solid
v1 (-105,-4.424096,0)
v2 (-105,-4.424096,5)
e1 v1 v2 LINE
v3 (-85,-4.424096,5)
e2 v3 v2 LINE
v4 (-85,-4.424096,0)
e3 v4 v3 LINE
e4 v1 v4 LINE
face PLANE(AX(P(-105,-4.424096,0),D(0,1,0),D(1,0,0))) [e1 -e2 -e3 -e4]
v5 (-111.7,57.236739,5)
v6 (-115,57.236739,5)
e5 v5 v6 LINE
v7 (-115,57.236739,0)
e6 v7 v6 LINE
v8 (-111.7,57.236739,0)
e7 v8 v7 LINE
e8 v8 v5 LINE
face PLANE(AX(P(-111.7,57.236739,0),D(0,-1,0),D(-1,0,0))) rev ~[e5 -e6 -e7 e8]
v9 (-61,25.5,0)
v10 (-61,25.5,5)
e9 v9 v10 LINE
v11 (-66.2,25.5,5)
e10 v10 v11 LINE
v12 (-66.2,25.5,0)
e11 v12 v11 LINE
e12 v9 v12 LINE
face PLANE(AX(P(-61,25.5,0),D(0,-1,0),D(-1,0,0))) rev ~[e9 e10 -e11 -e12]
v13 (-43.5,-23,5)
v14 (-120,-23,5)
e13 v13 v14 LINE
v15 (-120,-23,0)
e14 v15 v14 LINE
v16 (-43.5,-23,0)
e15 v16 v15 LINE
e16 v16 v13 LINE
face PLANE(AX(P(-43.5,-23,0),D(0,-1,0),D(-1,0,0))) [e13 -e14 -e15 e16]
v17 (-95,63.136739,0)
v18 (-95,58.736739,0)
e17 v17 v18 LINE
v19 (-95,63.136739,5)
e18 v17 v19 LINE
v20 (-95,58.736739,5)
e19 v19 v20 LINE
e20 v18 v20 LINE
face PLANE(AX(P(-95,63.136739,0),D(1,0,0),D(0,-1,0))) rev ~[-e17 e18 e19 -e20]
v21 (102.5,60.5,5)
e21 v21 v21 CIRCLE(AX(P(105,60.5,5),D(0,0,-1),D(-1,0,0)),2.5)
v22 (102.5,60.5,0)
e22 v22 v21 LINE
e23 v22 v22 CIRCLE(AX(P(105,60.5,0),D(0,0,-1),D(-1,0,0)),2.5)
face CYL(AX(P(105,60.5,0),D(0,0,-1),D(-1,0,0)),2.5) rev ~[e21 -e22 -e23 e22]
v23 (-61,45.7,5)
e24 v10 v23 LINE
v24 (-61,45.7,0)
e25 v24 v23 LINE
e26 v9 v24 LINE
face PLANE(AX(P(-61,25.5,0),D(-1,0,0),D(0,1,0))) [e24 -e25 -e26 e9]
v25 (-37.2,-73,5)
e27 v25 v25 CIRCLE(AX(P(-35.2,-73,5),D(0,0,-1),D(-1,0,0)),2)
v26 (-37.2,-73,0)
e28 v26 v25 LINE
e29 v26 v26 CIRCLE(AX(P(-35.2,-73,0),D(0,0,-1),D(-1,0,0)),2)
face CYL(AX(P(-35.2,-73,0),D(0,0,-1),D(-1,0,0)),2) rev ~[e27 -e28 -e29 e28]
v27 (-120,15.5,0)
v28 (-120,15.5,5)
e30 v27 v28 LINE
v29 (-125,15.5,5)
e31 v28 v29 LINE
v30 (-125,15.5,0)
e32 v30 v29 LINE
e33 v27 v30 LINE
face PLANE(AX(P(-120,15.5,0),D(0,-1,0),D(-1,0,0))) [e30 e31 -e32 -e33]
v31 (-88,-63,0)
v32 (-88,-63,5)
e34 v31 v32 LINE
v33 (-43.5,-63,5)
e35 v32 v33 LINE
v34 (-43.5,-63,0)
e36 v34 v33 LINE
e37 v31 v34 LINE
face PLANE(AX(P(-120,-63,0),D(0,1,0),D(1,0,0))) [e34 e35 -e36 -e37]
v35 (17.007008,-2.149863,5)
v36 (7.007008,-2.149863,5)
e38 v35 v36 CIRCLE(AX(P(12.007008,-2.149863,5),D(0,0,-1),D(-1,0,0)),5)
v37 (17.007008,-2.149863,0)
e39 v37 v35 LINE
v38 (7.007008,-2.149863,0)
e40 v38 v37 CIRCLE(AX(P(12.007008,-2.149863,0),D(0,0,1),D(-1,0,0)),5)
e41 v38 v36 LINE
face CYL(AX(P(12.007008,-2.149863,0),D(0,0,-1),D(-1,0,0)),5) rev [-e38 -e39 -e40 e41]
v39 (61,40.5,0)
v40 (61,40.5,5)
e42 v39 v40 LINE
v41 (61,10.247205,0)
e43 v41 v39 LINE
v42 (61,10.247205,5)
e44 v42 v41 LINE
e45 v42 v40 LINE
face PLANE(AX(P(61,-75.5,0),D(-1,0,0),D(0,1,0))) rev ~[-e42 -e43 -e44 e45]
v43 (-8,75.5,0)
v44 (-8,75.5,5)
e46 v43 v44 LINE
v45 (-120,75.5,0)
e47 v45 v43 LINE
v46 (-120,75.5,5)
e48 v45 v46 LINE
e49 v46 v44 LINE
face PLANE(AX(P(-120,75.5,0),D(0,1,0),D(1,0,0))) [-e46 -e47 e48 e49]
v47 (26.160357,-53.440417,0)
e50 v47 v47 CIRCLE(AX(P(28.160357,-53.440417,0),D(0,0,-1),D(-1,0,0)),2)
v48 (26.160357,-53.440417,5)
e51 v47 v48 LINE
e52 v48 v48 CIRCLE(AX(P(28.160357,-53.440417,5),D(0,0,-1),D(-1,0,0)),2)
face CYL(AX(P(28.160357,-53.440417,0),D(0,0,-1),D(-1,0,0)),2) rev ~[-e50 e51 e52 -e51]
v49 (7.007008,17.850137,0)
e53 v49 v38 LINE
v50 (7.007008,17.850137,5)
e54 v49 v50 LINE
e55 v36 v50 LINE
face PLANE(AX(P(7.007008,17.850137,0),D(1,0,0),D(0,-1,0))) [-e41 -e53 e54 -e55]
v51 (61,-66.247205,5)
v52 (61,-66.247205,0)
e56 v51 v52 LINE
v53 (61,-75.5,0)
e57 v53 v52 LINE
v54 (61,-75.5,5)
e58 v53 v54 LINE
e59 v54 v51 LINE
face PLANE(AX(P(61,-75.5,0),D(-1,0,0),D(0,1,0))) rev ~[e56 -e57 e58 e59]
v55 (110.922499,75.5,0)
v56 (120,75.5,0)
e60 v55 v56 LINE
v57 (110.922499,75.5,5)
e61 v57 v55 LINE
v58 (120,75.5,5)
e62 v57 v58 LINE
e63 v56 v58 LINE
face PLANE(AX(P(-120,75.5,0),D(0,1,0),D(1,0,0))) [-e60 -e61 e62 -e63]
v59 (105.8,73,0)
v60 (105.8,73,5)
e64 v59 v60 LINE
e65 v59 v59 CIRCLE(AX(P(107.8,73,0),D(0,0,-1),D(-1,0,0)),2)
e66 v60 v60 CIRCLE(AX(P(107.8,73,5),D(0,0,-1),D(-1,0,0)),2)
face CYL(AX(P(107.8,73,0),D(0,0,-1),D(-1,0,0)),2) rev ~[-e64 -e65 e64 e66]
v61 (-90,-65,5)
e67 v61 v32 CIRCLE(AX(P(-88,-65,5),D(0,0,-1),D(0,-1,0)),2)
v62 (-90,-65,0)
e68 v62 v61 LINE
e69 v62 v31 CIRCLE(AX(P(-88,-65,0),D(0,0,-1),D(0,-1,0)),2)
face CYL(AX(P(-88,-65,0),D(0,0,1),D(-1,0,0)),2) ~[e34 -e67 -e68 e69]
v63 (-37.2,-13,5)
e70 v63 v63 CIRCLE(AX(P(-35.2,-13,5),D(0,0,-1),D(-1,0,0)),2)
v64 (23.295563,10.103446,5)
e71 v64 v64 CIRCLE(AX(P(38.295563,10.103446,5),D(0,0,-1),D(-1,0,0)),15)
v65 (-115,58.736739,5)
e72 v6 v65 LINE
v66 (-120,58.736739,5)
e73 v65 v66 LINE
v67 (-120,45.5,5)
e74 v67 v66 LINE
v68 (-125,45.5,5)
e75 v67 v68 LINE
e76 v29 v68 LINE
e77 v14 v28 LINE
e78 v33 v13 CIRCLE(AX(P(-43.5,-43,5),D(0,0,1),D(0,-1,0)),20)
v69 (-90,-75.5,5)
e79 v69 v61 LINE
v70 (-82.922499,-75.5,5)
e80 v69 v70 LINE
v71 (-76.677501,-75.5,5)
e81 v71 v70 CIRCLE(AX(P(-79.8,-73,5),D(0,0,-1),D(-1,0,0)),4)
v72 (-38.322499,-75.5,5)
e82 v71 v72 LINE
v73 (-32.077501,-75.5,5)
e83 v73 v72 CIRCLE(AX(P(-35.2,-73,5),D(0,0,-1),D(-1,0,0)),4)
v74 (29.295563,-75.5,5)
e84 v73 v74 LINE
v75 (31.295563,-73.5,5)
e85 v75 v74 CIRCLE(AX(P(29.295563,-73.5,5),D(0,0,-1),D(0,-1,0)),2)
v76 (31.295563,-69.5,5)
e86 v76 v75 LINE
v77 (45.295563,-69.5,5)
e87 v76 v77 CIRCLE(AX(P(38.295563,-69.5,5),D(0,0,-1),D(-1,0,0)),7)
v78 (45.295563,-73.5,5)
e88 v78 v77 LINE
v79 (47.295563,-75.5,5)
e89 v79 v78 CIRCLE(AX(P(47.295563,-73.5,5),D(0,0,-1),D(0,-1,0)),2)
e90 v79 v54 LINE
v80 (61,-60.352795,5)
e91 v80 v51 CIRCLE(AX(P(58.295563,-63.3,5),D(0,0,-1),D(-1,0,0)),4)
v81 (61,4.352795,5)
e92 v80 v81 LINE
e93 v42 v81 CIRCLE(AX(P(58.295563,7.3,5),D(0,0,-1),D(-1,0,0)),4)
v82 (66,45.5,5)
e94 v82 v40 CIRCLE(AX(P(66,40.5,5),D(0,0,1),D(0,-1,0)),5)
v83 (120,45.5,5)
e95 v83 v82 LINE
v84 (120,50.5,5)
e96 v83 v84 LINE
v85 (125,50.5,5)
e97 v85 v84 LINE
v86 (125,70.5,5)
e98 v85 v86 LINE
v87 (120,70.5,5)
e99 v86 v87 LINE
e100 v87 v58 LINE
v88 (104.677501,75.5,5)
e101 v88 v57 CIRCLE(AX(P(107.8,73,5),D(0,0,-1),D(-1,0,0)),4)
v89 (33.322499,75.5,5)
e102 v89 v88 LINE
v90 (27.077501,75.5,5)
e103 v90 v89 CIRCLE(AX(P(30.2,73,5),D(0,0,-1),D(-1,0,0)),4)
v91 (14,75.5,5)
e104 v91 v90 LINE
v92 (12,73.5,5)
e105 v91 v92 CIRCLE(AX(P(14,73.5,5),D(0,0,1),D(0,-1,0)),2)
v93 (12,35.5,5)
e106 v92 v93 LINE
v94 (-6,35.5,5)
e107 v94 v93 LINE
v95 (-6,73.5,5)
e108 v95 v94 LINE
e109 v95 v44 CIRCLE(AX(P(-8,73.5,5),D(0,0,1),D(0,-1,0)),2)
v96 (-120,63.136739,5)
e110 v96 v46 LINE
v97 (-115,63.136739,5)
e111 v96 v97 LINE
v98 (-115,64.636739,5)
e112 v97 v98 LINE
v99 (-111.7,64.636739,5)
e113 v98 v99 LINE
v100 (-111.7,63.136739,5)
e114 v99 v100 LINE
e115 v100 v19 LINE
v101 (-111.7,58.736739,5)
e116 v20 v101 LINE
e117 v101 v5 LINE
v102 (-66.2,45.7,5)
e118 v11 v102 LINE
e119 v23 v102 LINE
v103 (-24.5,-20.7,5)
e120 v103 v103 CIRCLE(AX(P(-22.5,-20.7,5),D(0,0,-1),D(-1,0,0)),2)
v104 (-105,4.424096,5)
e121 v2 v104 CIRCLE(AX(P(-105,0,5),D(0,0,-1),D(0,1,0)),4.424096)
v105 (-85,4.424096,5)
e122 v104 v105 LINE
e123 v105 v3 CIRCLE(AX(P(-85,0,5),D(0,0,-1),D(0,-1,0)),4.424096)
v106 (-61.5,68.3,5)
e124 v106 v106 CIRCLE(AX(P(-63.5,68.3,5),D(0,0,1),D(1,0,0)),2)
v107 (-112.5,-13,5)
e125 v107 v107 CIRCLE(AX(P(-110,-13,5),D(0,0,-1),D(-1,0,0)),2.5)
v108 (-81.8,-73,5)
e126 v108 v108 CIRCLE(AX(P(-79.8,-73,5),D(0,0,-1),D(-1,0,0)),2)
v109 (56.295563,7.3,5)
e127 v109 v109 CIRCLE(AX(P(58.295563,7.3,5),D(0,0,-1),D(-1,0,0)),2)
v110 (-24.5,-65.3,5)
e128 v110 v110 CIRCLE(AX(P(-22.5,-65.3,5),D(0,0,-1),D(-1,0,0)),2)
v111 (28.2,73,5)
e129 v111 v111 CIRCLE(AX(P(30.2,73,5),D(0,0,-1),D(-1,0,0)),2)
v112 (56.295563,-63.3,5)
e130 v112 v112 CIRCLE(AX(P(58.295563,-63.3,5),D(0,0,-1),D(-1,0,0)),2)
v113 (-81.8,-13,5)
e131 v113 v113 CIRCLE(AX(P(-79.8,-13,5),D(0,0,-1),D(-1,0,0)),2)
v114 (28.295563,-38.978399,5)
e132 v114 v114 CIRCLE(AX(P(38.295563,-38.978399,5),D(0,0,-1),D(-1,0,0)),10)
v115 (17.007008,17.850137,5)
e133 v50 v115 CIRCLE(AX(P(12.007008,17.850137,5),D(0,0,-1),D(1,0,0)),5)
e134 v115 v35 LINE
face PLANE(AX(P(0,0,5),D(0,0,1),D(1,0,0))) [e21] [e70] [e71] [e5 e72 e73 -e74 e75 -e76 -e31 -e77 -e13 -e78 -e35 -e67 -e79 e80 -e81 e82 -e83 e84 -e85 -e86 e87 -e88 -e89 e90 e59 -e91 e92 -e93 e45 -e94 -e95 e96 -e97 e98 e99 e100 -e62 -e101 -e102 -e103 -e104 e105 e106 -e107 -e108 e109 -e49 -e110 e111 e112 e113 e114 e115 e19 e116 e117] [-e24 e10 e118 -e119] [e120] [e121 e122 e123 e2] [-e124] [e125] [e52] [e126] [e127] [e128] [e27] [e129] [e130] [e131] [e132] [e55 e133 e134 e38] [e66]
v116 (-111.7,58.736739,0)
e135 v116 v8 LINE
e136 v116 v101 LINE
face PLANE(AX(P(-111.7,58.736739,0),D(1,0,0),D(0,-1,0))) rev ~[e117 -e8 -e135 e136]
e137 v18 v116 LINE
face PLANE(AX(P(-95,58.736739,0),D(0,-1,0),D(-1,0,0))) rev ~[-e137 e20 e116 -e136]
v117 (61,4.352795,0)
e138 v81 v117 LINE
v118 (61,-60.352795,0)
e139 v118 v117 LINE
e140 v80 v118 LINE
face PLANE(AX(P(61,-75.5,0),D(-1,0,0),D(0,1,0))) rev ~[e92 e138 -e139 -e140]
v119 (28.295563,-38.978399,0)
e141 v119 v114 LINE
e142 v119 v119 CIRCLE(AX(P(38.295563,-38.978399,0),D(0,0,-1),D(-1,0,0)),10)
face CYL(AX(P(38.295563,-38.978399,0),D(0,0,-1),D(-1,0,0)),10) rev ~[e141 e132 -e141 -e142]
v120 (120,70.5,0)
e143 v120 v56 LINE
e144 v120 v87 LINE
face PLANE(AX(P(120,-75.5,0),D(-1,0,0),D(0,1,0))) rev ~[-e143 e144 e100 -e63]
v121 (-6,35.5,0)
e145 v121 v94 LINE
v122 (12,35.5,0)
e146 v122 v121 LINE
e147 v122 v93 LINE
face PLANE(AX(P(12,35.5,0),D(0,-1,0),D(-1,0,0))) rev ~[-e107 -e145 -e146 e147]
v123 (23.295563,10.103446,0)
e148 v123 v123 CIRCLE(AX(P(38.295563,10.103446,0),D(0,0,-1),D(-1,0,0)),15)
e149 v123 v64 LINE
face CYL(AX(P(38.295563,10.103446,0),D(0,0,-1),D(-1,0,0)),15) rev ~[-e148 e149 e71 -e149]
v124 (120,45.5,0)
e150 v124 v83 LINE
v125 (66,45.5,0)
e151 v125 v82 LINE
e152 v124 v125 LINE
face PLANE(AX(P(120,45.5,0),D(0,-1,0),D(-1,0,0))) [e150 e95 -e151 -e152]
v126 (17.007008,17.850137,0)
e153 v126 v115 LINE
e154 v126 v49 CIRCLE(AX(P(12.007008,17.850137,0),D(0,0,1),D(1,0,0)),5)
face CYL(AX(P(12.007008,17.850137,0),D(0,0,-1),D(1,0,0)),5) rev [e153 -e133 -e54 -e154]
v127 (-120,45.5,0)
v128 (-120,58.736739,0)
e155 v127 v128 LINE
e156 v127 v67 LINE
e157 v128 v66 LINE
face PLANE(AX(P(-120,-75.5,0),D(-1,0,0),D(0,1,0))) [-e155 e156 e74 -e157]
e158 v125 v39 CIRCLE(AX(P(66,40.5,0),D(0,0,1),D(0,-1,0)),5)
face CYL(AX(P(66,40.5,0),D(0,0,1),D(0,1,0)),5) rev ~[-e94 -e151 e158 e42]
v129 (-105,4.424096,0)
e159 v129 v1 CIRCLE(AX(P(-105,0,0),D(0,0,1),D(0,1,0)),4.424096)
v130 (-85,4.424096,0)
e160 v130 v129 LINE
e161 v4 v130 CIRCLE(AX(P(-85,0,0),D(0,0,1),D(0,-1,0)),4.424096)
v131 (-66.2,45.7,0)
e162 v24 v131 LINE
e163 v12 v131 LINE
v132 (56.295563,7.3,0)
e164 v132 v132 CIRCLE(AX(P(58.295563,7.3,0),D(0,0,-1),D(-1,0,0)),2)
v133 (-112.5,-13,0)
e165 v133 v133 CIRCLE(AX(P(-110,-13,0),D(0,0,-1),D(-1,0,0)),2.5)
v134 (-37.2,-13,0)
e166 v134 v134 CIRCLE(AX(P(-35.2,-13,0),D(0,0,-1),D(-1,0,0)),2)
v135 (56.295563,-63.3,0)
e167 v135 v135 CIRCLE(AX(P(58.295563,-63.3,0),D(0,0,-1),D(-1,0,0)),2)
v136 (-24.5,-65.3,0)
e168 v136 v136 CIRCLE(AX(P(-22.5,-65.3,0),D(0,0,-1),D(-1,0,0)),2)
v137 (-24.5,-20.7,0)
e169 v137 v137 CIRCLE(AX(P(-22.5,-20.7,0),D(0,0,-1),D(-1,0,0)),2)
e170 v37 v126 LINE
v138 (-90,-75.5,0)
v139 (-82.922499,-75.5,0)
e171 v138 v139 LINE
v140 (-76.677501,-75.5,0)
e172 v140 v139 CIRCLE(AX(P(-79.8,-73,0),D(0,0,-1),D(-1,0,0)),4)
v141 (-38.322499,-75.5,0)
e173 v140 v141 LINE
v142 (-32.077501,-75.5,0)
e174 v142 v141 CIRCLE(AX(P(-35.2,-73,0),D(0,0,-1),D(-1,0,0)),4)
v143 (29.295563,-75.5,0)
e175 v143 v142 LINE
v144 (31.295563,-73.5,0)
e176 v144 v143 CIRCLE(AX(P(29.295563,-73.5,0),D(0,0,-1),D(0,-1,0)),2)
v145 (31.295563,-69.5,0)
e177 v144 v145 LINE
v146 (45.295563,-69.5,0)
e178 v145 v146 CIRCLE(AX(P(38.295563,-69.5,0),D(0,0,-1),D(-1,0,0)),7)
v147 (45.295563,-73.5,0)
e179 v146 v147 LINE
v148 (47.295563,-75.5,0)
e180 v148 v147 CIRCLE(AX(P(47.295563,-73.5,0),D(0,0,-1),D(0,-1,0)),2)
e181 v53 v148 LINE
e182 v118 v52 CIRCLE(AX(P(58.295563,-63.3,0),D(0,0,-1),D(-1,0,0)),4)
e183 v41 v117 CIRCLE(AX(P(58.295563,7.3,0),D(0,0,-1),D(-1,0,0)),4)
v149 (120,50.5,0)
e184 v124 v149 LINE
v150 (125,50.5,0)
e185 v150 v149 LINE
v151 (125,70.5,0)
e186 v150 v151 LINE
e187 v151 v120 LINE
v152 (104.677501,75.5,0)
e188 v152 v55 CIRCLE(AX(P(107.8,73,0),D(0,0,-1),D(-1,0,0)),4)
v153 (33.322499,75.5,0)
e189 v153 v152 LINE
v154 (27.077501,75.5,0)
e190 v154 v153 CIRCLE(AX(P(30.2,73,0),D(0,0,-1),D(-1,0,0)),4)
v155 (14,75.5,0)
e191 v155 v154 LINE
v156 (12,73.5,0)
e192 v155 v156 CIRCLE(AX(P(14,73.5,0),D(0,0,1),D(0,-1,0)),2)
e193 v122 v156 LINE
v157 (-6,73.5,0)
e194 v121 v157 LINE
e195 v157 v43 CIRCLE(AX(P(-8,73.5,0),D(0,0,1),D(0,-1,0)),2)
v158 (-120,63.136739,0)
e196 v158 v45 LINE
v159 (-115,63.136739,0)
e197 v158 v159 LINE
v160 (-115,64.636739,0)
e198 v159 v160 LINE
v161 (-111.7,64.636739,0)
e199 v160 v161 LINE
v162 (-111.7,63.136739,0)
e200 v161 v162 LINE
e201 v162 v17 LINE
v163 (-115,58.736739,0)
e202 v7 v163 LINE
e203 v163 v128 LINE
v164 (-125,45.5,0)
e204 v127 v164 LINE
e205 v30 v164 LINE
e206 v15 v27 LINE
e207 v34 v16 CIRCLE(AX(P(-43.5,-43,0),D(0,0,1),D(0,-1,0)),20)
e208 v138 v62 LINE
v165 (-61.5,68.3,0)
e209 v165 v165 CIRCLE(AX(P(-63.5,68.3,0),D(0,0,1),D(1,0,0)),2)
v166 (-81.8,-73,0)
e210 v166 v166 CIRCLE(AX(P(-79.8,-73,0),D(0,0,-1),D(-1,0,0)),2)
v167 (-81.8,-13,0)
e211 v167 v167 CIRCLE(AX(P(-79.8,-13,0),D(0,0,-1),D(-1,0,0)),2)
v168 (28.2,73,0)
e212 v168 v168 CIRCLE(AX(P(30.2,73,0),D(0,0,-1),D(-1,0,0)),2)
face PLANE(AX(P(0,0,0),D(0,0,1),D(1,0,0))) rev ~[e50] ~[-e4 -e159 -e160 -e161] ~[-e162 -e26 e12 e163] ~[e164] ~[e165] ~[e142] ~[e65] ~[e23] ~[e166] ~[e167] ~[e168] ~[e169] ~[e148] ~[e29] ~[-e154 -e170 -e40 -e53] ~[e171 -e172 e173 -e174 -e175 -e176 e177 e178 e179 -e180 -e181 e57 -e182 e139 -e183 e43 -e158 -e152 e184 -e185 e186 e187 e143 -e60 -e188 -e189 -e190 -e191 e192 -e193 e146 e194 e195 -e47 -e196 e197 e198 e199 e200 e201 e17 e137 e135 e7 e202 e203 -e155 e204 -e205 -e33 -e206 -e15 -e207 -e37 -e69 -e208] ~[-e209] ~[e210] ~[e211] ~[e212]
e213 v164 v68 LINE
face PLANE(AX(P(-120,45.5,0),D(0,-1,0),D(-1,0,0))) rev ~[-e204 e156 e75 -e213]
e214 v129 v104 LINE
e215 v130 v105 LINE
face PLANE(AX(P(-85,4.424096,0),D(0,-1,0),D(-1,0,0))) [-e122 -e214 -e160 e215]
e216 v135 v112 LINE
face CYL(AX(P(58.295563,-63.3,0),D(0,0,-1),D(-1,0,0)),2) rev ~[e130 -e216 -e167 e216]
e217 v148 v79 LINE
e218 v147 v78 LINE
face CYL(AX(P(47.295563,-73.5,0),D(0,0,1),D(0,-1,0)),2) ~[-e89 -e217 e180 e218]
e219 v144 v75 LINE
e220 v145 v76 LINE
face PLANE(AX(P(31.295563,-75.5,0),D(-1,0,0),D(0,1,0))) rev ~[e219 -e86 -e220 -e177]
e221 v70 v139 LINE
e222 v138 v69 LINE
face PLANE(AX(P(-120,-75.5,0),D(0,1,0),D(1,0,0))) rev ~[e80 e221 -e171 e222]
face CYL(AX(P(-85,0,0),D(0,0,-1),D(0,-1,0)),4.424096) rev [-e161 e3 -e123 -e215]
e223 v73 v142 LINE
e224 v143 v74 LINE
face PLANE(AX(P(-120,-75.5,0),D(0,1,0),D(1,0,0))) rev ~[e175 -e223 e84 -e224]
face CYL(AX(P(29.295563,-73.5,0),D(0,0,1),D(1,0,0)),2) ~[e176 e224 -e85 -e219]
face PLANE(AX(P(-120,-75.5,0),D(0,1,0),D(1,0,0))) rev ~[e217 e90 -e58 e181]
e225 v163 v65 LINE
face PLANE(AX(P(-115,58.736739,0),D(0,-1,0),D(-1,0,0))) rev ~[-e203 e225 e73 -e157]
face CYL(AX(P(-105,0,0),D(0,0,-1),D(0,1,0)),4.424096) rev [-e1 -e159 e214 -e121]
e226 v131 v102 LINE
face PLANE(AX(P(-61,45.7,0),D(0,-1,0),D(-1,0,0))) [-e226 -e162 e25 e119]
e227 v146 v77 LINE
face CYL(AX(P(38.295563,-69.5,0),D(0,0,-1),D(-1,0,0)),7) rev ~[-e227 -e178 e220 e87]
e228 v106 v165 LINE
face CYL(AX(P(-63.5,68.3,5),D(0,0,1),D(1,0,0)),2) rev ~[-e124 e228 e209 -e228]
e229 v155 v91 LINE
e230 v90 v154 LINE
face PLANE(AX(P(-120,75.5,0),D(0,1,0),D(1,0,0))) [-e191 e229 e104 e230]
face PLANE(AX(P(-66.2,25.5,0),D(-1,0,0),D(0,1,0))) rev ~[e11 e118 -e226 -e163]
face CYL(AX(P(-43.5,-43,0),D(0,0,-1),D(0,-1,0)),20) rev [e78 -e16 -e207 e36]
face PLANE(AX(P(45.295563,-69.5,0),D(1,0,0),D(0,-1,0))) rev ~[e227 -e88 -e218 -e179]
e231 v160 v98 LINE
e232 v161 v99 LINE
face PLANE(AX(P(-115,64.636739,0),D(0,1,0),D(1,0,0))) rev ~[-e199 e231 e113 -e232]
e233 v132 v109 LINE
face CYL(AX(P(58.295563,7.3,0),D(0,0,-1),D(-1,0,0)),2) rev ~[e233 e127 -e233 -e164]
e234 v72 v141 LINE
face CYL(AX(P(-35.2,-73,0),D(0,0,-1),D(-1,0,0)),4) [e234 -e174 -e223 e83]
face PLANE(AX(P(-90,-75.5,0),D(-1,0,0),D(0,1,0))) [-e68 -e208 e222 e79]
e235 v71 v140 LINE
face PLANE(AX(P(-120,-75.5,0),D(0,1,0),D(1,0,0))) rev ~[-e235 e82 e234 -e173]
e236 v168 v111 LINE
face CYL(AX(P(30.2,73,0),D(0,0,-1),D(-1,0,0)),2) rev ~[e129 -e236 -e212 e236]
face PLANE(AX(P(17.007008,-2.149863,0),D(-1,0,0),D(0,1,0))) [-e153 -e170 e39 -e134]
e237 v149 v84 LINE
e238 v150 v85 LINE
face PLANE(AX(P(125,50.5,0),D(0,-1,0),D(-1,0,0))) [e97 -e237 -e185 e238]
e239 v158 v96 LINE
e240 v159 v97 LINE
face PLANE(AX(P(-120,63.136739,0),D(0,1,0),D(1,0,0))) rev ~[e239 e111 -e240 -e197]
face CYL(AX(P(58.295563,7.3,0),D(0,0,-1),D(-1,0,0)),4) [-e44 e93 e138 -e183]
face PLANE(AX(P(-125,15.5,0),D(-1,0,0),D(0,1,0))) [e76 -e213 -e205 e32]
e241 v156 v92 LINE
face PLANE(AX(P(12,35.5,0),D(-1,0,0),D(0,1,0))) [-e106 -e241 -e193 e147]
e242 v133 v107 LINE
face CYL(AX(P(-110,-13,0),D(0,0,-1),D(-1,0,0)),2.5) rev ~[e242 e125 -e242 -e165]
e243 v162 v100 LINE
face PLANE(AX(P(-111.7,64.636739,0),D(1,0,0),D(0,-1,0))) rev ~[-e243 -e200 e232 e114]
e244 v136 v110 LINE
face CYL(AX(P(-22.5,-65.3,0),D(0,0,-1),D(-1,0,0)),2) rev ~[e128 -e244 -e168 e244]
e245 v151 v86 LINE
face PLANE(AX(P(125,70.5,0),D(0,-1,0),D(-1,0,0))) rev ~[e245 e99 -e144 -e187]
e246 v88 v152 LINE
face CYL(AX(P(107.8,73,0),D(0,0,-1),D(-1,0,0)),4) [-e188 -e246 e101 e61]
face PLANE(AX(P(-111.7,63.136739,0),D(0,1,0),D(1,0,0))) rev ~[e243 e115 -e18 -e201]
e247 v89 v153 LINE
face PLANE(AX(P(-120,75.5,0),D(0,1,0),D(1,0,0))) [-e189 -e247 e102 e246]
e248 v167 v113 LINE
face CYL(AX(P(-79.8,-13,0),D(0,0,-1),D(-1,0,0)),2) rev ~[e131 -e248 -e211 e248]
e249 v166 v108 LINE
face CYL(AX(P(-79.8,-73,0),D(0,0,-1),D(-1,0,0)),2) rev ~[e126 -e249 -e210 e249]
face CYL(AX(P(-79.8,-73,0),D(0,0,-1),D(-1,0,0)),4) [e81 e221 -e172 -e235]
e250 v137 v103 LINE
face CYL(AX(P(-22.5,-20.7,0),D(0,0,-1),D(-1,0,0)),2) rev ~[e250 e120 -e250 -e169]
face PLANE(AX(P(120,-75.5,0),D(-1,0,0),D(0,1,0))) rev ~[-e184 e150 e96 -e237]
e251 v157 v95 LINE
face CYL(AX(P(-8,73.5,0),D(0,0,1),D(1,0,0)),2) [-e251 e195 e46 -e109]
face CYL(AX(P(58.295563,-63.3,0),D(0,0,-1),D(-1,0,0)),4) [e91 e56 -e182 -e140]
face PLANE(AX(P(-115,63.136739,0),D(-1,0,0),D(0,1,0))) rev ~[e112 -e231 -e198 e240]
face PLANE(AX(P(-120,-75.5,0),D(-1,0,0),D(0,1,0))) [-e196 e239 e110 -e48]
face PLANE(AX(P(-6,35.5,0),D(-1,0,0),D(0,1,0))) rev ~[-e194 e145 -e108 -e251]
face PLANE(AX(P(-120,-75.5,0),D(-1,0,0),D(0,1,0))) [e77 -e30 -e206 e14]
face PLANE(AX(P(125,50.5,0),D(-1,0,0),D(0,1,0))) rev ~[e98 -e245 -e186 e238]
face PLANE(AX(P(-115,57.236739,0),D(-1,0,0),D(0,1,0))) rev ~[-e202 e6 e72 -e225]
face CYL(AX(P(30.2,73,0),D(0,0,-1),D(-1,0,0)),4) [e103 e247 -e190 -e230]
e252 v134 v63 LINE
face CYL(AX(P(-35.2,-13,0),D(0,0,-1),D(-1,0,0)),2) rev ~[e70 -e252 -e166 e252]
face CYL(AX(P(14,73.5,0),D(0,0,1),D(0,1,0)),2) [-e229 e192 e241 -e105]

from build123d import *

# Parameters (mm, degrees)
SKETCH1_W                = 240
SKETCH1_H                = 151
BOSS_EXTRUDE1_DEPTH      = 5
SKETCH5_R                = 2
CUT_EXTRUDE1_DEPTH       = 5
SKETCH6_R                = 4
SKETCH6_R_2              = 2
BOSS_EXTRUDE2_DEPTH      = 5
CUT_EXTRUDE2_DEPTH       = 5
SKETCH8_W                = 30
SKETCH8_H                = 12.5
CUT_EXTRUDE3_DEPTH       = 5
SKETCH9_W                = 59
SKETCH9_H                = 121
CUT_EXTRUDE4_DEPTH       = 5
SKETCH12_W               = 18
SKETCH12_H               = 40
CUT_EXTRUDE7_DEPTH       = 10
SKETCH13_R               = 2
CUT_EXTRUDE8_DEPTH       = 10
SKETCH15_R               = 2
CUT_EXTRUDE9_DEPTH       = 5
SKETCH16_W               = 5.2
SKETCH16_H               = 20.2
CUT_EXTRUDE10_DEPTH      = 5
SKETCH17_R               = 4
SKETCH17_R_2             = 2
BOSS_EXTRUDE3_DEPTH      = 5
CUT_EXTRUDE11_DEPTH      = 10
SKETCH19_R               = 15
CUT_EXTRUDE12_DEPTH      = 10
CUT_EXTRUDE13_DEPTH      = 1
CUT_EXTRUDE13_DEPTH_BACK = 10
SKETCH23_R               = 2
CUT_EXTRUDE16_DEPTH      = 5
SKETCH24_R               = 4
SKETCH24_R_2             = 2
BOSS_EXTRUDE4_DEPTH      = 5
SKETCH27_R               = 2.5
CUT_EXTRUDE18_DEPTH      = 10
CUT_EXTRUDE19_DEPTH      = 10
SKETCH31_R               = 2.5
CUT_EXTRUDE20_DEPTH      = 10
SKETCH32_W               = 5
SKETCH32_H               = 30
SKETCH32_H_2             = 20
BOSS_EXTRUDE6_DEPTH      = 5
FILLET1_R                = 5
FILLET2_R                = 2
CUT_EXTRUDE22_DEPTH      = 5
SKETCH35_R               = 10
CUT_EXTRUDE23_DEPTH      = 5
SKETCH36_R               = 2
CUT_EXTRUDE24_DEPTH      = 5


with BuildPart() as part:
    # Sketch1 → Boss-Extrude1 (new body)
    with BuildSketch(Plane.XY):
        Rectangle(SKETCH1_W, SKETCH1_H)
    extrude(amount=BOSS_EXTRUDE1_DEPTH)

    # Sketch5 → Cut-Extrude1 (cut)
    with BuildSketch(Plane(origin=(0, 0, 0), x_dir=(-1, 0, 0), z_dir=(0, 0, -1))):
        with Locations((35.2, -73)):
            Circle(SKETCH5_R)
        with Locations((79.8, -73)):
            Circle(SKETCH5_R)
        with Locations((22.5, -65.3)):
            Circle(SKETCH5_R)
        with Locations((22.5, -20.7)):
            Circle(SKETCH5_R)
        with Locations((79.8, -13)):
            Circle(SKETCH5_R)
        with Locations((35.2, -13)):
            Circle(SKETCH5_R)
    extrude(amount=-CUT_EXTRUDE1_DEPTH, mode=Mode.SUBTRACT)

    # Sketch6 → Boss-Extrude2 (add)
    with BuildSketch(Plane(origin=(0, 0, 0), x_dir=(-1, 0, 0), z_dir=(0, 0, -1))):
        with Locations((35.2, -73)):
            Circle(SKETCH6_R)
        with Locations((35.2, -73)):
            Circle(SKETCH6_R_2, mode=Mode.SUBTRACT)
        with Locations((79.8, -73)):
            Circle(SKETCH6_R)
        with Locations((79.8, -73)):
            Circle(SKETCH6_R_2, mode=Mode.SUBTRACT)
    extrude(amount=-BOSS_EXTRUDE2_DEPTH)

    # Sketch7 → Cut-Extrude2 (cut)
    with BuildSketch(Plane(origin=(0, 0, 0), x_dir=(-1, 0, 0), z_dir=(0, 0, -1))):
        with BuildLine():
            Line((120, -63), (43.5, -63))
            ThreePointArc((43.5, -63), (23.5, -43), (43.5, -23))
            Line((43.5, -23), (120, -23))
            Line((120, -23), (120, -63))
        make_face()
    extrude(amount=-CUT_EXTRUDE2_DEPTH, mode=Mode.SUBTRACT)

    # Sketch8 → Cut-Extrude3 (cut)
    with BuildSketch(Plane(origin=(0, 0, 0), x_dir=(-1, 0, 0), z_dir=(0, 0, -1))):
        with Locations((105, -69.25)):
            Rectangle(SKETCH8_W, SKETCH8_H)
    extrude(amount=-CUT_EXTRUDE3_DEPTH, mode=Mode.SUBTRACT)

    # Sketch9 → Cut-Extrude4 (cut)
    with BuildSketch(Plane(origin=(0, 0, 0), x_dir=(-1, 0, 0), z_dir=(0, 0, -1))):
        with Locations((-90.5, -15)):
            Rectangle(SKETCH9_W, SKETCH9_H)
    extrude(amount=-CUT_EXTRUDE4_DEPTH, mode=Mode.SUBTRACT)

    # Sketch12 → Cut-Extrude7 (cut)
    with BuildSketch(Plane(origin=(0, 0, 0), x_dir=(-1, 0, 0), z_dir=(0, 0, -1))):
        with Locations((-3, 55.5)):
            Rectangle(SKETCH12_W, SKETCH12_H)
    extrude(amount=-CUT_EXTRUDE7_DEPTH, mode=Mode.SUBTRACT)

    # Sketch13 → Cut-Extrude8 (cut)
    with BuildSketch(Plane(origin=(0, 0, 0), x_dir=(-1, 0, 0), z_dir=(0, 0, -1))):
        with Locations((-58.295562695, 7.3)):
            Circle(SKETCH13_R)
        with Locations((-58.295562695, -63.3)):
            Circle(SKETCH13_R)
    extrude(amount=-CUT_EXTRUDE8_DEPTH, mode=Mode.SUBTRACT)

    # Sketch15 → Cut-Extrude9 (cut)
    with BuildSketch(Plane.XY.offset(5)):
        with Locations((-63.5, 68.3)):
            Circle(SKETCH15_R)
    extrude(amount=-CUT_EXTRUDE9_DEPTH, mode=Mode.SUBTRACT)

    # Sketch16 → Cut-Extrude10 (cut)
    with BuildSketch(Plane(origin=(0, 0, 0), x_dir=(-1, 0, 0), z_dir=(0, 0, -1))):
        with Locations((63.6, 35.6)):
            Rectangle(SKETCH16_W, SKETCH16_H)
    extrude(amount=-CUT_EXTRUDE10_DEPTH, mode=Mode.SUBTRACT)

    # Sketch17 → Boss-Extrude3 (add)
    with BuildSketch(Plane(origin=(0, 0, 0), x_dir=(-1, 0, 0), z_dir=(0, 0, -1))):
        with Locations((-58.295562695, 7.3)):
            Circle(SKETCH17_R)
        with Locations((-58.295562695, 7.3)):
            Circle(SKETCH17_R_2, mode=Mode.SUBTRACT)
        with Locations((-58.295562695, -63.3)):
            Circle(SKETCH17_R)
        with Locations((-58.295562695, -63.3)):
            Circle(SKETCH17_R_2, mode=Mode.SUBTRACT)
    extrude(amount=-BOSS_EXTRUDE3_DEPTH)

    # Sketch18 → Cut-Extrude11 (cut)
    with BuildSketch(Plane(origin=(0, 0, 0), x_dir=(-1, 0, 0), z_dir=(0, 0, -1))):
        with BuildLine():
            Line((-7.007007892, 17.8501367), (-7.007007892, -2.1498633))
            ThreePointArc((-7.007007892, -2.1498633), (-12.007007892, -7.1498633), (-17.007007892, -2.1498633))
            Line((-17.007007892, -2.1498633), (-17.007007892, 17.8501367))
            ThreePointArc((-17.007007892, 17.8501367), (-12.007007892, 22.8501367), (-7.007007892, 17.8501367))
        make_face()
    extrude(amount=-CUT_EXTRUDE11_DEPTH, mode=Mode.SUBTRACT)

    # Sketch19 → Cut-Extrude12 (cut)
    with BuildSketch(Plane(origin=(0, 0, 0), x_dir=(-1, 0, 0), z_dir=(0, 0, -1))):
        with Locations((-38.295562695, 10.103446171)):
            Circle(SKETCH19_R)
    extrude(amount=-CUT_EXTRUDE12_DEPTH, mode=Mode.SUBTRACT)

    # Sketch20 → Cut-Extrude13 (cut, two sides)
    with BuildSketch(Plane(origin=(0, 0, 0), x_dir=(-1, 0, 0), z_dir=(0, 0, -1))) as cut_extrude13_sk:
        with BuildLine():
            ThreePointArc((-31.295562695, -69.5), (-38.295562695, -62.5), (-45.295562695, -69.5))
            Line((-45.295562695, -69.5), (-45.295562695, -75.5))
            Line((-45.295562695, -75.5), (-31.295562695, -75.5))
            Line((-31.295562695, -75.5), (-31.295562695, -69.5))
        make_face()
    extrude(amount=CUT_EXTRUDE13_DEPTH, mode=Mode.SUBTRACT)
    extrude(cut_extrude13_sk.sketch, amount=-CUT_EXTRUDE13_DEPTH_BACK, mode=Mode.SUBTRACT)

    # Sketch23 → Cut-Extrude16 (cut)
    with BuildSketch(Plane(origin=(0, 0, 0), x_dir=(-1, 0, 0), z_dir=(0, 0, -1))):
        with Locations((-107.8, 73)):
            Circle(SKETCH23_R)
        with Locations((-30.2, 73)):
            Circle(SKETCH23_R)
    extrude(amount=-CUT_EXTRUDE16_DEPTH, mode=Mode.SUBTRACT)

    # Sketch24 → Boss-Extrude4 (add)
    with BuildSketch(Plane(origin=(0, 0, 0), x_dir=(-1, 0, 0), z_dir=(0, 0, -1))):
        with Locations((-107.8, 73)):
            Circle(SKETCH24_R)
        with Locations((-107.8, 73)):
            Circle(SKETCH24_R_2, mode=Mode.SUBTRACT)
        with Locations((-30.2, 73)):
            Circle(SKETCH24_R)
        with Locations((-30.2, 73)):
            Circle(SKETCH24_R_2, mode=Mode.SUBTRACT)
    extrude(amount=-BOSS_EXTRUDE4_DEPTH)

    # Sketch27 → Cut-Extrude18 (cut)
    with BuildSketch(Plane(origin=(0, 0, 0), x_dir=(-1, 0, 0), z_dir=(0, 0, -1))):
        with Locations((110, -13)):
            Circle(SKETCH27_R)
    extrude(amount=-CUT_EXTRUDE18_DEPTH, mode=Mode.SUBTRACT)

    # Sketch30 → Cut-Extrude19 (cut)
    with BuildSketch(Plane(origin=(0, 0, 0), x_dir=(-1, 0, 0), z_dir=(0, 0, -1))):
        with BuildLine():
            Line((105, -4.424095919), (85, -4.424095919))
            ThreePointArc((85, -4.424095919), (80.575904081, 0), (85, 4.424095919))
            Line((85, 4.424095919), (105, 4.424095919))
            ThreePointArc((105, 4.424095919), (109.424095919, 0), (105, -4.424095919))
        make_face()
    extrude(amount=-CUT_EXTRUDE19_DEPTH, mode=Mode.SUBTRACT)

    # Sketch31 → Cut-Extrude20 (cut)
    with BuildSketch(Plane(origin=(0, 0, 0), x_dir=(-1, 0, 0), z_dir=(0, 0, -1))):
        with Locations((-105, 60.5)):
            Circle(SKETCH31_R)
    extrude(amount=-CUT_EXTRUDE20_DEPTH, mode=Mode.SUBTRACT)

    # Sketch32 → Boss-Extrude6 (add)
    with BuildSketch(Plane(origin=(0, 0, 0), x_dir=(-1, 0, 0), z_dir=(0, 0, -1))):
        with Locations((122.5, 30.5)):
            Rectangle(SKETCH32_W, SKETCH32_H)
        with Locations((-122.5, 60.5)):
            Rectangle(SKETCH32_W, SKETCH32_H_2)
    extrude(amount=-BOSS_EXTRUDE6_DEPTH)

    # Fillet1
    fillet1_edges = [part.edges().sort_by_distance(p)[0] for p in [
        (61, 45.5, 2.5),
    ]]
    fillet(fillet1_edges, radius=FILLET1_R)

    # Fillet2
    fillet2_edges = [part.edges().sort_by_distance(p)[0] for p in [
        (12, 75.5, 2.5),
        (-6, 75.5, 2.5),
        (31.295562695, -75.5, 2.5),
        (45.295562695, -75.5, 2.5),
        (-90, -63, 2.5),
    ]]
    fillet(fillet2_edges, radius=FILLET2_R)

    # Sketch34 → Cut-Extrude22 (cut)
    with BuildSketch(Plane(origin=(0, 0, 0), x_dir=(-1, 0, 0), z_dir=(0, 0, -1))):
        Polygon((115, 58.736739195), (120, 58.736739195), (120, 63.136739195), (115, 63.136739195), (115, 64.636739195), (111.7, 64.636739195), (111.7, 63.136739195), (95, 63.136739195), (95, 58.736739195), (111.7, 58.736739195), (111.7, 57.236739195), (115, 57.236739195), align=None)
    extrude(amount=-CUT_EXTRUDE22_DEPTH, mode=Mode.SUBTRACT)

    # Sketch35 → Cut-Extrude23 (cut)
    with BuildSketch(Plane(origin=(0, 0, 0), x_dir=(-1, 0, 0), z_dir=(0, 0, -1))):
        with Locations((-38.295562695, -38.978399319)):
            Circle(SKETCH35_R)
    extrude(amount=-CUT_EXTRUDE23_DEPTH, mode=Mode.SUBTRACT)

    # Sketch36 → Cut-Extrude24 (cut)
    with BuildSketch(Plane(origin=(0, 0, 0), x_dir=(-1, 0, 0), z_dir=(0, 0, -1))):
        with Locations((-28.16035742, -53.440416767)):
            Circle(SKETCH36_R)
    extrude(amount=-CUT_EXTRUDE24_DEPTH, mode=Mode.SUBTRACT)


solid = part.part
